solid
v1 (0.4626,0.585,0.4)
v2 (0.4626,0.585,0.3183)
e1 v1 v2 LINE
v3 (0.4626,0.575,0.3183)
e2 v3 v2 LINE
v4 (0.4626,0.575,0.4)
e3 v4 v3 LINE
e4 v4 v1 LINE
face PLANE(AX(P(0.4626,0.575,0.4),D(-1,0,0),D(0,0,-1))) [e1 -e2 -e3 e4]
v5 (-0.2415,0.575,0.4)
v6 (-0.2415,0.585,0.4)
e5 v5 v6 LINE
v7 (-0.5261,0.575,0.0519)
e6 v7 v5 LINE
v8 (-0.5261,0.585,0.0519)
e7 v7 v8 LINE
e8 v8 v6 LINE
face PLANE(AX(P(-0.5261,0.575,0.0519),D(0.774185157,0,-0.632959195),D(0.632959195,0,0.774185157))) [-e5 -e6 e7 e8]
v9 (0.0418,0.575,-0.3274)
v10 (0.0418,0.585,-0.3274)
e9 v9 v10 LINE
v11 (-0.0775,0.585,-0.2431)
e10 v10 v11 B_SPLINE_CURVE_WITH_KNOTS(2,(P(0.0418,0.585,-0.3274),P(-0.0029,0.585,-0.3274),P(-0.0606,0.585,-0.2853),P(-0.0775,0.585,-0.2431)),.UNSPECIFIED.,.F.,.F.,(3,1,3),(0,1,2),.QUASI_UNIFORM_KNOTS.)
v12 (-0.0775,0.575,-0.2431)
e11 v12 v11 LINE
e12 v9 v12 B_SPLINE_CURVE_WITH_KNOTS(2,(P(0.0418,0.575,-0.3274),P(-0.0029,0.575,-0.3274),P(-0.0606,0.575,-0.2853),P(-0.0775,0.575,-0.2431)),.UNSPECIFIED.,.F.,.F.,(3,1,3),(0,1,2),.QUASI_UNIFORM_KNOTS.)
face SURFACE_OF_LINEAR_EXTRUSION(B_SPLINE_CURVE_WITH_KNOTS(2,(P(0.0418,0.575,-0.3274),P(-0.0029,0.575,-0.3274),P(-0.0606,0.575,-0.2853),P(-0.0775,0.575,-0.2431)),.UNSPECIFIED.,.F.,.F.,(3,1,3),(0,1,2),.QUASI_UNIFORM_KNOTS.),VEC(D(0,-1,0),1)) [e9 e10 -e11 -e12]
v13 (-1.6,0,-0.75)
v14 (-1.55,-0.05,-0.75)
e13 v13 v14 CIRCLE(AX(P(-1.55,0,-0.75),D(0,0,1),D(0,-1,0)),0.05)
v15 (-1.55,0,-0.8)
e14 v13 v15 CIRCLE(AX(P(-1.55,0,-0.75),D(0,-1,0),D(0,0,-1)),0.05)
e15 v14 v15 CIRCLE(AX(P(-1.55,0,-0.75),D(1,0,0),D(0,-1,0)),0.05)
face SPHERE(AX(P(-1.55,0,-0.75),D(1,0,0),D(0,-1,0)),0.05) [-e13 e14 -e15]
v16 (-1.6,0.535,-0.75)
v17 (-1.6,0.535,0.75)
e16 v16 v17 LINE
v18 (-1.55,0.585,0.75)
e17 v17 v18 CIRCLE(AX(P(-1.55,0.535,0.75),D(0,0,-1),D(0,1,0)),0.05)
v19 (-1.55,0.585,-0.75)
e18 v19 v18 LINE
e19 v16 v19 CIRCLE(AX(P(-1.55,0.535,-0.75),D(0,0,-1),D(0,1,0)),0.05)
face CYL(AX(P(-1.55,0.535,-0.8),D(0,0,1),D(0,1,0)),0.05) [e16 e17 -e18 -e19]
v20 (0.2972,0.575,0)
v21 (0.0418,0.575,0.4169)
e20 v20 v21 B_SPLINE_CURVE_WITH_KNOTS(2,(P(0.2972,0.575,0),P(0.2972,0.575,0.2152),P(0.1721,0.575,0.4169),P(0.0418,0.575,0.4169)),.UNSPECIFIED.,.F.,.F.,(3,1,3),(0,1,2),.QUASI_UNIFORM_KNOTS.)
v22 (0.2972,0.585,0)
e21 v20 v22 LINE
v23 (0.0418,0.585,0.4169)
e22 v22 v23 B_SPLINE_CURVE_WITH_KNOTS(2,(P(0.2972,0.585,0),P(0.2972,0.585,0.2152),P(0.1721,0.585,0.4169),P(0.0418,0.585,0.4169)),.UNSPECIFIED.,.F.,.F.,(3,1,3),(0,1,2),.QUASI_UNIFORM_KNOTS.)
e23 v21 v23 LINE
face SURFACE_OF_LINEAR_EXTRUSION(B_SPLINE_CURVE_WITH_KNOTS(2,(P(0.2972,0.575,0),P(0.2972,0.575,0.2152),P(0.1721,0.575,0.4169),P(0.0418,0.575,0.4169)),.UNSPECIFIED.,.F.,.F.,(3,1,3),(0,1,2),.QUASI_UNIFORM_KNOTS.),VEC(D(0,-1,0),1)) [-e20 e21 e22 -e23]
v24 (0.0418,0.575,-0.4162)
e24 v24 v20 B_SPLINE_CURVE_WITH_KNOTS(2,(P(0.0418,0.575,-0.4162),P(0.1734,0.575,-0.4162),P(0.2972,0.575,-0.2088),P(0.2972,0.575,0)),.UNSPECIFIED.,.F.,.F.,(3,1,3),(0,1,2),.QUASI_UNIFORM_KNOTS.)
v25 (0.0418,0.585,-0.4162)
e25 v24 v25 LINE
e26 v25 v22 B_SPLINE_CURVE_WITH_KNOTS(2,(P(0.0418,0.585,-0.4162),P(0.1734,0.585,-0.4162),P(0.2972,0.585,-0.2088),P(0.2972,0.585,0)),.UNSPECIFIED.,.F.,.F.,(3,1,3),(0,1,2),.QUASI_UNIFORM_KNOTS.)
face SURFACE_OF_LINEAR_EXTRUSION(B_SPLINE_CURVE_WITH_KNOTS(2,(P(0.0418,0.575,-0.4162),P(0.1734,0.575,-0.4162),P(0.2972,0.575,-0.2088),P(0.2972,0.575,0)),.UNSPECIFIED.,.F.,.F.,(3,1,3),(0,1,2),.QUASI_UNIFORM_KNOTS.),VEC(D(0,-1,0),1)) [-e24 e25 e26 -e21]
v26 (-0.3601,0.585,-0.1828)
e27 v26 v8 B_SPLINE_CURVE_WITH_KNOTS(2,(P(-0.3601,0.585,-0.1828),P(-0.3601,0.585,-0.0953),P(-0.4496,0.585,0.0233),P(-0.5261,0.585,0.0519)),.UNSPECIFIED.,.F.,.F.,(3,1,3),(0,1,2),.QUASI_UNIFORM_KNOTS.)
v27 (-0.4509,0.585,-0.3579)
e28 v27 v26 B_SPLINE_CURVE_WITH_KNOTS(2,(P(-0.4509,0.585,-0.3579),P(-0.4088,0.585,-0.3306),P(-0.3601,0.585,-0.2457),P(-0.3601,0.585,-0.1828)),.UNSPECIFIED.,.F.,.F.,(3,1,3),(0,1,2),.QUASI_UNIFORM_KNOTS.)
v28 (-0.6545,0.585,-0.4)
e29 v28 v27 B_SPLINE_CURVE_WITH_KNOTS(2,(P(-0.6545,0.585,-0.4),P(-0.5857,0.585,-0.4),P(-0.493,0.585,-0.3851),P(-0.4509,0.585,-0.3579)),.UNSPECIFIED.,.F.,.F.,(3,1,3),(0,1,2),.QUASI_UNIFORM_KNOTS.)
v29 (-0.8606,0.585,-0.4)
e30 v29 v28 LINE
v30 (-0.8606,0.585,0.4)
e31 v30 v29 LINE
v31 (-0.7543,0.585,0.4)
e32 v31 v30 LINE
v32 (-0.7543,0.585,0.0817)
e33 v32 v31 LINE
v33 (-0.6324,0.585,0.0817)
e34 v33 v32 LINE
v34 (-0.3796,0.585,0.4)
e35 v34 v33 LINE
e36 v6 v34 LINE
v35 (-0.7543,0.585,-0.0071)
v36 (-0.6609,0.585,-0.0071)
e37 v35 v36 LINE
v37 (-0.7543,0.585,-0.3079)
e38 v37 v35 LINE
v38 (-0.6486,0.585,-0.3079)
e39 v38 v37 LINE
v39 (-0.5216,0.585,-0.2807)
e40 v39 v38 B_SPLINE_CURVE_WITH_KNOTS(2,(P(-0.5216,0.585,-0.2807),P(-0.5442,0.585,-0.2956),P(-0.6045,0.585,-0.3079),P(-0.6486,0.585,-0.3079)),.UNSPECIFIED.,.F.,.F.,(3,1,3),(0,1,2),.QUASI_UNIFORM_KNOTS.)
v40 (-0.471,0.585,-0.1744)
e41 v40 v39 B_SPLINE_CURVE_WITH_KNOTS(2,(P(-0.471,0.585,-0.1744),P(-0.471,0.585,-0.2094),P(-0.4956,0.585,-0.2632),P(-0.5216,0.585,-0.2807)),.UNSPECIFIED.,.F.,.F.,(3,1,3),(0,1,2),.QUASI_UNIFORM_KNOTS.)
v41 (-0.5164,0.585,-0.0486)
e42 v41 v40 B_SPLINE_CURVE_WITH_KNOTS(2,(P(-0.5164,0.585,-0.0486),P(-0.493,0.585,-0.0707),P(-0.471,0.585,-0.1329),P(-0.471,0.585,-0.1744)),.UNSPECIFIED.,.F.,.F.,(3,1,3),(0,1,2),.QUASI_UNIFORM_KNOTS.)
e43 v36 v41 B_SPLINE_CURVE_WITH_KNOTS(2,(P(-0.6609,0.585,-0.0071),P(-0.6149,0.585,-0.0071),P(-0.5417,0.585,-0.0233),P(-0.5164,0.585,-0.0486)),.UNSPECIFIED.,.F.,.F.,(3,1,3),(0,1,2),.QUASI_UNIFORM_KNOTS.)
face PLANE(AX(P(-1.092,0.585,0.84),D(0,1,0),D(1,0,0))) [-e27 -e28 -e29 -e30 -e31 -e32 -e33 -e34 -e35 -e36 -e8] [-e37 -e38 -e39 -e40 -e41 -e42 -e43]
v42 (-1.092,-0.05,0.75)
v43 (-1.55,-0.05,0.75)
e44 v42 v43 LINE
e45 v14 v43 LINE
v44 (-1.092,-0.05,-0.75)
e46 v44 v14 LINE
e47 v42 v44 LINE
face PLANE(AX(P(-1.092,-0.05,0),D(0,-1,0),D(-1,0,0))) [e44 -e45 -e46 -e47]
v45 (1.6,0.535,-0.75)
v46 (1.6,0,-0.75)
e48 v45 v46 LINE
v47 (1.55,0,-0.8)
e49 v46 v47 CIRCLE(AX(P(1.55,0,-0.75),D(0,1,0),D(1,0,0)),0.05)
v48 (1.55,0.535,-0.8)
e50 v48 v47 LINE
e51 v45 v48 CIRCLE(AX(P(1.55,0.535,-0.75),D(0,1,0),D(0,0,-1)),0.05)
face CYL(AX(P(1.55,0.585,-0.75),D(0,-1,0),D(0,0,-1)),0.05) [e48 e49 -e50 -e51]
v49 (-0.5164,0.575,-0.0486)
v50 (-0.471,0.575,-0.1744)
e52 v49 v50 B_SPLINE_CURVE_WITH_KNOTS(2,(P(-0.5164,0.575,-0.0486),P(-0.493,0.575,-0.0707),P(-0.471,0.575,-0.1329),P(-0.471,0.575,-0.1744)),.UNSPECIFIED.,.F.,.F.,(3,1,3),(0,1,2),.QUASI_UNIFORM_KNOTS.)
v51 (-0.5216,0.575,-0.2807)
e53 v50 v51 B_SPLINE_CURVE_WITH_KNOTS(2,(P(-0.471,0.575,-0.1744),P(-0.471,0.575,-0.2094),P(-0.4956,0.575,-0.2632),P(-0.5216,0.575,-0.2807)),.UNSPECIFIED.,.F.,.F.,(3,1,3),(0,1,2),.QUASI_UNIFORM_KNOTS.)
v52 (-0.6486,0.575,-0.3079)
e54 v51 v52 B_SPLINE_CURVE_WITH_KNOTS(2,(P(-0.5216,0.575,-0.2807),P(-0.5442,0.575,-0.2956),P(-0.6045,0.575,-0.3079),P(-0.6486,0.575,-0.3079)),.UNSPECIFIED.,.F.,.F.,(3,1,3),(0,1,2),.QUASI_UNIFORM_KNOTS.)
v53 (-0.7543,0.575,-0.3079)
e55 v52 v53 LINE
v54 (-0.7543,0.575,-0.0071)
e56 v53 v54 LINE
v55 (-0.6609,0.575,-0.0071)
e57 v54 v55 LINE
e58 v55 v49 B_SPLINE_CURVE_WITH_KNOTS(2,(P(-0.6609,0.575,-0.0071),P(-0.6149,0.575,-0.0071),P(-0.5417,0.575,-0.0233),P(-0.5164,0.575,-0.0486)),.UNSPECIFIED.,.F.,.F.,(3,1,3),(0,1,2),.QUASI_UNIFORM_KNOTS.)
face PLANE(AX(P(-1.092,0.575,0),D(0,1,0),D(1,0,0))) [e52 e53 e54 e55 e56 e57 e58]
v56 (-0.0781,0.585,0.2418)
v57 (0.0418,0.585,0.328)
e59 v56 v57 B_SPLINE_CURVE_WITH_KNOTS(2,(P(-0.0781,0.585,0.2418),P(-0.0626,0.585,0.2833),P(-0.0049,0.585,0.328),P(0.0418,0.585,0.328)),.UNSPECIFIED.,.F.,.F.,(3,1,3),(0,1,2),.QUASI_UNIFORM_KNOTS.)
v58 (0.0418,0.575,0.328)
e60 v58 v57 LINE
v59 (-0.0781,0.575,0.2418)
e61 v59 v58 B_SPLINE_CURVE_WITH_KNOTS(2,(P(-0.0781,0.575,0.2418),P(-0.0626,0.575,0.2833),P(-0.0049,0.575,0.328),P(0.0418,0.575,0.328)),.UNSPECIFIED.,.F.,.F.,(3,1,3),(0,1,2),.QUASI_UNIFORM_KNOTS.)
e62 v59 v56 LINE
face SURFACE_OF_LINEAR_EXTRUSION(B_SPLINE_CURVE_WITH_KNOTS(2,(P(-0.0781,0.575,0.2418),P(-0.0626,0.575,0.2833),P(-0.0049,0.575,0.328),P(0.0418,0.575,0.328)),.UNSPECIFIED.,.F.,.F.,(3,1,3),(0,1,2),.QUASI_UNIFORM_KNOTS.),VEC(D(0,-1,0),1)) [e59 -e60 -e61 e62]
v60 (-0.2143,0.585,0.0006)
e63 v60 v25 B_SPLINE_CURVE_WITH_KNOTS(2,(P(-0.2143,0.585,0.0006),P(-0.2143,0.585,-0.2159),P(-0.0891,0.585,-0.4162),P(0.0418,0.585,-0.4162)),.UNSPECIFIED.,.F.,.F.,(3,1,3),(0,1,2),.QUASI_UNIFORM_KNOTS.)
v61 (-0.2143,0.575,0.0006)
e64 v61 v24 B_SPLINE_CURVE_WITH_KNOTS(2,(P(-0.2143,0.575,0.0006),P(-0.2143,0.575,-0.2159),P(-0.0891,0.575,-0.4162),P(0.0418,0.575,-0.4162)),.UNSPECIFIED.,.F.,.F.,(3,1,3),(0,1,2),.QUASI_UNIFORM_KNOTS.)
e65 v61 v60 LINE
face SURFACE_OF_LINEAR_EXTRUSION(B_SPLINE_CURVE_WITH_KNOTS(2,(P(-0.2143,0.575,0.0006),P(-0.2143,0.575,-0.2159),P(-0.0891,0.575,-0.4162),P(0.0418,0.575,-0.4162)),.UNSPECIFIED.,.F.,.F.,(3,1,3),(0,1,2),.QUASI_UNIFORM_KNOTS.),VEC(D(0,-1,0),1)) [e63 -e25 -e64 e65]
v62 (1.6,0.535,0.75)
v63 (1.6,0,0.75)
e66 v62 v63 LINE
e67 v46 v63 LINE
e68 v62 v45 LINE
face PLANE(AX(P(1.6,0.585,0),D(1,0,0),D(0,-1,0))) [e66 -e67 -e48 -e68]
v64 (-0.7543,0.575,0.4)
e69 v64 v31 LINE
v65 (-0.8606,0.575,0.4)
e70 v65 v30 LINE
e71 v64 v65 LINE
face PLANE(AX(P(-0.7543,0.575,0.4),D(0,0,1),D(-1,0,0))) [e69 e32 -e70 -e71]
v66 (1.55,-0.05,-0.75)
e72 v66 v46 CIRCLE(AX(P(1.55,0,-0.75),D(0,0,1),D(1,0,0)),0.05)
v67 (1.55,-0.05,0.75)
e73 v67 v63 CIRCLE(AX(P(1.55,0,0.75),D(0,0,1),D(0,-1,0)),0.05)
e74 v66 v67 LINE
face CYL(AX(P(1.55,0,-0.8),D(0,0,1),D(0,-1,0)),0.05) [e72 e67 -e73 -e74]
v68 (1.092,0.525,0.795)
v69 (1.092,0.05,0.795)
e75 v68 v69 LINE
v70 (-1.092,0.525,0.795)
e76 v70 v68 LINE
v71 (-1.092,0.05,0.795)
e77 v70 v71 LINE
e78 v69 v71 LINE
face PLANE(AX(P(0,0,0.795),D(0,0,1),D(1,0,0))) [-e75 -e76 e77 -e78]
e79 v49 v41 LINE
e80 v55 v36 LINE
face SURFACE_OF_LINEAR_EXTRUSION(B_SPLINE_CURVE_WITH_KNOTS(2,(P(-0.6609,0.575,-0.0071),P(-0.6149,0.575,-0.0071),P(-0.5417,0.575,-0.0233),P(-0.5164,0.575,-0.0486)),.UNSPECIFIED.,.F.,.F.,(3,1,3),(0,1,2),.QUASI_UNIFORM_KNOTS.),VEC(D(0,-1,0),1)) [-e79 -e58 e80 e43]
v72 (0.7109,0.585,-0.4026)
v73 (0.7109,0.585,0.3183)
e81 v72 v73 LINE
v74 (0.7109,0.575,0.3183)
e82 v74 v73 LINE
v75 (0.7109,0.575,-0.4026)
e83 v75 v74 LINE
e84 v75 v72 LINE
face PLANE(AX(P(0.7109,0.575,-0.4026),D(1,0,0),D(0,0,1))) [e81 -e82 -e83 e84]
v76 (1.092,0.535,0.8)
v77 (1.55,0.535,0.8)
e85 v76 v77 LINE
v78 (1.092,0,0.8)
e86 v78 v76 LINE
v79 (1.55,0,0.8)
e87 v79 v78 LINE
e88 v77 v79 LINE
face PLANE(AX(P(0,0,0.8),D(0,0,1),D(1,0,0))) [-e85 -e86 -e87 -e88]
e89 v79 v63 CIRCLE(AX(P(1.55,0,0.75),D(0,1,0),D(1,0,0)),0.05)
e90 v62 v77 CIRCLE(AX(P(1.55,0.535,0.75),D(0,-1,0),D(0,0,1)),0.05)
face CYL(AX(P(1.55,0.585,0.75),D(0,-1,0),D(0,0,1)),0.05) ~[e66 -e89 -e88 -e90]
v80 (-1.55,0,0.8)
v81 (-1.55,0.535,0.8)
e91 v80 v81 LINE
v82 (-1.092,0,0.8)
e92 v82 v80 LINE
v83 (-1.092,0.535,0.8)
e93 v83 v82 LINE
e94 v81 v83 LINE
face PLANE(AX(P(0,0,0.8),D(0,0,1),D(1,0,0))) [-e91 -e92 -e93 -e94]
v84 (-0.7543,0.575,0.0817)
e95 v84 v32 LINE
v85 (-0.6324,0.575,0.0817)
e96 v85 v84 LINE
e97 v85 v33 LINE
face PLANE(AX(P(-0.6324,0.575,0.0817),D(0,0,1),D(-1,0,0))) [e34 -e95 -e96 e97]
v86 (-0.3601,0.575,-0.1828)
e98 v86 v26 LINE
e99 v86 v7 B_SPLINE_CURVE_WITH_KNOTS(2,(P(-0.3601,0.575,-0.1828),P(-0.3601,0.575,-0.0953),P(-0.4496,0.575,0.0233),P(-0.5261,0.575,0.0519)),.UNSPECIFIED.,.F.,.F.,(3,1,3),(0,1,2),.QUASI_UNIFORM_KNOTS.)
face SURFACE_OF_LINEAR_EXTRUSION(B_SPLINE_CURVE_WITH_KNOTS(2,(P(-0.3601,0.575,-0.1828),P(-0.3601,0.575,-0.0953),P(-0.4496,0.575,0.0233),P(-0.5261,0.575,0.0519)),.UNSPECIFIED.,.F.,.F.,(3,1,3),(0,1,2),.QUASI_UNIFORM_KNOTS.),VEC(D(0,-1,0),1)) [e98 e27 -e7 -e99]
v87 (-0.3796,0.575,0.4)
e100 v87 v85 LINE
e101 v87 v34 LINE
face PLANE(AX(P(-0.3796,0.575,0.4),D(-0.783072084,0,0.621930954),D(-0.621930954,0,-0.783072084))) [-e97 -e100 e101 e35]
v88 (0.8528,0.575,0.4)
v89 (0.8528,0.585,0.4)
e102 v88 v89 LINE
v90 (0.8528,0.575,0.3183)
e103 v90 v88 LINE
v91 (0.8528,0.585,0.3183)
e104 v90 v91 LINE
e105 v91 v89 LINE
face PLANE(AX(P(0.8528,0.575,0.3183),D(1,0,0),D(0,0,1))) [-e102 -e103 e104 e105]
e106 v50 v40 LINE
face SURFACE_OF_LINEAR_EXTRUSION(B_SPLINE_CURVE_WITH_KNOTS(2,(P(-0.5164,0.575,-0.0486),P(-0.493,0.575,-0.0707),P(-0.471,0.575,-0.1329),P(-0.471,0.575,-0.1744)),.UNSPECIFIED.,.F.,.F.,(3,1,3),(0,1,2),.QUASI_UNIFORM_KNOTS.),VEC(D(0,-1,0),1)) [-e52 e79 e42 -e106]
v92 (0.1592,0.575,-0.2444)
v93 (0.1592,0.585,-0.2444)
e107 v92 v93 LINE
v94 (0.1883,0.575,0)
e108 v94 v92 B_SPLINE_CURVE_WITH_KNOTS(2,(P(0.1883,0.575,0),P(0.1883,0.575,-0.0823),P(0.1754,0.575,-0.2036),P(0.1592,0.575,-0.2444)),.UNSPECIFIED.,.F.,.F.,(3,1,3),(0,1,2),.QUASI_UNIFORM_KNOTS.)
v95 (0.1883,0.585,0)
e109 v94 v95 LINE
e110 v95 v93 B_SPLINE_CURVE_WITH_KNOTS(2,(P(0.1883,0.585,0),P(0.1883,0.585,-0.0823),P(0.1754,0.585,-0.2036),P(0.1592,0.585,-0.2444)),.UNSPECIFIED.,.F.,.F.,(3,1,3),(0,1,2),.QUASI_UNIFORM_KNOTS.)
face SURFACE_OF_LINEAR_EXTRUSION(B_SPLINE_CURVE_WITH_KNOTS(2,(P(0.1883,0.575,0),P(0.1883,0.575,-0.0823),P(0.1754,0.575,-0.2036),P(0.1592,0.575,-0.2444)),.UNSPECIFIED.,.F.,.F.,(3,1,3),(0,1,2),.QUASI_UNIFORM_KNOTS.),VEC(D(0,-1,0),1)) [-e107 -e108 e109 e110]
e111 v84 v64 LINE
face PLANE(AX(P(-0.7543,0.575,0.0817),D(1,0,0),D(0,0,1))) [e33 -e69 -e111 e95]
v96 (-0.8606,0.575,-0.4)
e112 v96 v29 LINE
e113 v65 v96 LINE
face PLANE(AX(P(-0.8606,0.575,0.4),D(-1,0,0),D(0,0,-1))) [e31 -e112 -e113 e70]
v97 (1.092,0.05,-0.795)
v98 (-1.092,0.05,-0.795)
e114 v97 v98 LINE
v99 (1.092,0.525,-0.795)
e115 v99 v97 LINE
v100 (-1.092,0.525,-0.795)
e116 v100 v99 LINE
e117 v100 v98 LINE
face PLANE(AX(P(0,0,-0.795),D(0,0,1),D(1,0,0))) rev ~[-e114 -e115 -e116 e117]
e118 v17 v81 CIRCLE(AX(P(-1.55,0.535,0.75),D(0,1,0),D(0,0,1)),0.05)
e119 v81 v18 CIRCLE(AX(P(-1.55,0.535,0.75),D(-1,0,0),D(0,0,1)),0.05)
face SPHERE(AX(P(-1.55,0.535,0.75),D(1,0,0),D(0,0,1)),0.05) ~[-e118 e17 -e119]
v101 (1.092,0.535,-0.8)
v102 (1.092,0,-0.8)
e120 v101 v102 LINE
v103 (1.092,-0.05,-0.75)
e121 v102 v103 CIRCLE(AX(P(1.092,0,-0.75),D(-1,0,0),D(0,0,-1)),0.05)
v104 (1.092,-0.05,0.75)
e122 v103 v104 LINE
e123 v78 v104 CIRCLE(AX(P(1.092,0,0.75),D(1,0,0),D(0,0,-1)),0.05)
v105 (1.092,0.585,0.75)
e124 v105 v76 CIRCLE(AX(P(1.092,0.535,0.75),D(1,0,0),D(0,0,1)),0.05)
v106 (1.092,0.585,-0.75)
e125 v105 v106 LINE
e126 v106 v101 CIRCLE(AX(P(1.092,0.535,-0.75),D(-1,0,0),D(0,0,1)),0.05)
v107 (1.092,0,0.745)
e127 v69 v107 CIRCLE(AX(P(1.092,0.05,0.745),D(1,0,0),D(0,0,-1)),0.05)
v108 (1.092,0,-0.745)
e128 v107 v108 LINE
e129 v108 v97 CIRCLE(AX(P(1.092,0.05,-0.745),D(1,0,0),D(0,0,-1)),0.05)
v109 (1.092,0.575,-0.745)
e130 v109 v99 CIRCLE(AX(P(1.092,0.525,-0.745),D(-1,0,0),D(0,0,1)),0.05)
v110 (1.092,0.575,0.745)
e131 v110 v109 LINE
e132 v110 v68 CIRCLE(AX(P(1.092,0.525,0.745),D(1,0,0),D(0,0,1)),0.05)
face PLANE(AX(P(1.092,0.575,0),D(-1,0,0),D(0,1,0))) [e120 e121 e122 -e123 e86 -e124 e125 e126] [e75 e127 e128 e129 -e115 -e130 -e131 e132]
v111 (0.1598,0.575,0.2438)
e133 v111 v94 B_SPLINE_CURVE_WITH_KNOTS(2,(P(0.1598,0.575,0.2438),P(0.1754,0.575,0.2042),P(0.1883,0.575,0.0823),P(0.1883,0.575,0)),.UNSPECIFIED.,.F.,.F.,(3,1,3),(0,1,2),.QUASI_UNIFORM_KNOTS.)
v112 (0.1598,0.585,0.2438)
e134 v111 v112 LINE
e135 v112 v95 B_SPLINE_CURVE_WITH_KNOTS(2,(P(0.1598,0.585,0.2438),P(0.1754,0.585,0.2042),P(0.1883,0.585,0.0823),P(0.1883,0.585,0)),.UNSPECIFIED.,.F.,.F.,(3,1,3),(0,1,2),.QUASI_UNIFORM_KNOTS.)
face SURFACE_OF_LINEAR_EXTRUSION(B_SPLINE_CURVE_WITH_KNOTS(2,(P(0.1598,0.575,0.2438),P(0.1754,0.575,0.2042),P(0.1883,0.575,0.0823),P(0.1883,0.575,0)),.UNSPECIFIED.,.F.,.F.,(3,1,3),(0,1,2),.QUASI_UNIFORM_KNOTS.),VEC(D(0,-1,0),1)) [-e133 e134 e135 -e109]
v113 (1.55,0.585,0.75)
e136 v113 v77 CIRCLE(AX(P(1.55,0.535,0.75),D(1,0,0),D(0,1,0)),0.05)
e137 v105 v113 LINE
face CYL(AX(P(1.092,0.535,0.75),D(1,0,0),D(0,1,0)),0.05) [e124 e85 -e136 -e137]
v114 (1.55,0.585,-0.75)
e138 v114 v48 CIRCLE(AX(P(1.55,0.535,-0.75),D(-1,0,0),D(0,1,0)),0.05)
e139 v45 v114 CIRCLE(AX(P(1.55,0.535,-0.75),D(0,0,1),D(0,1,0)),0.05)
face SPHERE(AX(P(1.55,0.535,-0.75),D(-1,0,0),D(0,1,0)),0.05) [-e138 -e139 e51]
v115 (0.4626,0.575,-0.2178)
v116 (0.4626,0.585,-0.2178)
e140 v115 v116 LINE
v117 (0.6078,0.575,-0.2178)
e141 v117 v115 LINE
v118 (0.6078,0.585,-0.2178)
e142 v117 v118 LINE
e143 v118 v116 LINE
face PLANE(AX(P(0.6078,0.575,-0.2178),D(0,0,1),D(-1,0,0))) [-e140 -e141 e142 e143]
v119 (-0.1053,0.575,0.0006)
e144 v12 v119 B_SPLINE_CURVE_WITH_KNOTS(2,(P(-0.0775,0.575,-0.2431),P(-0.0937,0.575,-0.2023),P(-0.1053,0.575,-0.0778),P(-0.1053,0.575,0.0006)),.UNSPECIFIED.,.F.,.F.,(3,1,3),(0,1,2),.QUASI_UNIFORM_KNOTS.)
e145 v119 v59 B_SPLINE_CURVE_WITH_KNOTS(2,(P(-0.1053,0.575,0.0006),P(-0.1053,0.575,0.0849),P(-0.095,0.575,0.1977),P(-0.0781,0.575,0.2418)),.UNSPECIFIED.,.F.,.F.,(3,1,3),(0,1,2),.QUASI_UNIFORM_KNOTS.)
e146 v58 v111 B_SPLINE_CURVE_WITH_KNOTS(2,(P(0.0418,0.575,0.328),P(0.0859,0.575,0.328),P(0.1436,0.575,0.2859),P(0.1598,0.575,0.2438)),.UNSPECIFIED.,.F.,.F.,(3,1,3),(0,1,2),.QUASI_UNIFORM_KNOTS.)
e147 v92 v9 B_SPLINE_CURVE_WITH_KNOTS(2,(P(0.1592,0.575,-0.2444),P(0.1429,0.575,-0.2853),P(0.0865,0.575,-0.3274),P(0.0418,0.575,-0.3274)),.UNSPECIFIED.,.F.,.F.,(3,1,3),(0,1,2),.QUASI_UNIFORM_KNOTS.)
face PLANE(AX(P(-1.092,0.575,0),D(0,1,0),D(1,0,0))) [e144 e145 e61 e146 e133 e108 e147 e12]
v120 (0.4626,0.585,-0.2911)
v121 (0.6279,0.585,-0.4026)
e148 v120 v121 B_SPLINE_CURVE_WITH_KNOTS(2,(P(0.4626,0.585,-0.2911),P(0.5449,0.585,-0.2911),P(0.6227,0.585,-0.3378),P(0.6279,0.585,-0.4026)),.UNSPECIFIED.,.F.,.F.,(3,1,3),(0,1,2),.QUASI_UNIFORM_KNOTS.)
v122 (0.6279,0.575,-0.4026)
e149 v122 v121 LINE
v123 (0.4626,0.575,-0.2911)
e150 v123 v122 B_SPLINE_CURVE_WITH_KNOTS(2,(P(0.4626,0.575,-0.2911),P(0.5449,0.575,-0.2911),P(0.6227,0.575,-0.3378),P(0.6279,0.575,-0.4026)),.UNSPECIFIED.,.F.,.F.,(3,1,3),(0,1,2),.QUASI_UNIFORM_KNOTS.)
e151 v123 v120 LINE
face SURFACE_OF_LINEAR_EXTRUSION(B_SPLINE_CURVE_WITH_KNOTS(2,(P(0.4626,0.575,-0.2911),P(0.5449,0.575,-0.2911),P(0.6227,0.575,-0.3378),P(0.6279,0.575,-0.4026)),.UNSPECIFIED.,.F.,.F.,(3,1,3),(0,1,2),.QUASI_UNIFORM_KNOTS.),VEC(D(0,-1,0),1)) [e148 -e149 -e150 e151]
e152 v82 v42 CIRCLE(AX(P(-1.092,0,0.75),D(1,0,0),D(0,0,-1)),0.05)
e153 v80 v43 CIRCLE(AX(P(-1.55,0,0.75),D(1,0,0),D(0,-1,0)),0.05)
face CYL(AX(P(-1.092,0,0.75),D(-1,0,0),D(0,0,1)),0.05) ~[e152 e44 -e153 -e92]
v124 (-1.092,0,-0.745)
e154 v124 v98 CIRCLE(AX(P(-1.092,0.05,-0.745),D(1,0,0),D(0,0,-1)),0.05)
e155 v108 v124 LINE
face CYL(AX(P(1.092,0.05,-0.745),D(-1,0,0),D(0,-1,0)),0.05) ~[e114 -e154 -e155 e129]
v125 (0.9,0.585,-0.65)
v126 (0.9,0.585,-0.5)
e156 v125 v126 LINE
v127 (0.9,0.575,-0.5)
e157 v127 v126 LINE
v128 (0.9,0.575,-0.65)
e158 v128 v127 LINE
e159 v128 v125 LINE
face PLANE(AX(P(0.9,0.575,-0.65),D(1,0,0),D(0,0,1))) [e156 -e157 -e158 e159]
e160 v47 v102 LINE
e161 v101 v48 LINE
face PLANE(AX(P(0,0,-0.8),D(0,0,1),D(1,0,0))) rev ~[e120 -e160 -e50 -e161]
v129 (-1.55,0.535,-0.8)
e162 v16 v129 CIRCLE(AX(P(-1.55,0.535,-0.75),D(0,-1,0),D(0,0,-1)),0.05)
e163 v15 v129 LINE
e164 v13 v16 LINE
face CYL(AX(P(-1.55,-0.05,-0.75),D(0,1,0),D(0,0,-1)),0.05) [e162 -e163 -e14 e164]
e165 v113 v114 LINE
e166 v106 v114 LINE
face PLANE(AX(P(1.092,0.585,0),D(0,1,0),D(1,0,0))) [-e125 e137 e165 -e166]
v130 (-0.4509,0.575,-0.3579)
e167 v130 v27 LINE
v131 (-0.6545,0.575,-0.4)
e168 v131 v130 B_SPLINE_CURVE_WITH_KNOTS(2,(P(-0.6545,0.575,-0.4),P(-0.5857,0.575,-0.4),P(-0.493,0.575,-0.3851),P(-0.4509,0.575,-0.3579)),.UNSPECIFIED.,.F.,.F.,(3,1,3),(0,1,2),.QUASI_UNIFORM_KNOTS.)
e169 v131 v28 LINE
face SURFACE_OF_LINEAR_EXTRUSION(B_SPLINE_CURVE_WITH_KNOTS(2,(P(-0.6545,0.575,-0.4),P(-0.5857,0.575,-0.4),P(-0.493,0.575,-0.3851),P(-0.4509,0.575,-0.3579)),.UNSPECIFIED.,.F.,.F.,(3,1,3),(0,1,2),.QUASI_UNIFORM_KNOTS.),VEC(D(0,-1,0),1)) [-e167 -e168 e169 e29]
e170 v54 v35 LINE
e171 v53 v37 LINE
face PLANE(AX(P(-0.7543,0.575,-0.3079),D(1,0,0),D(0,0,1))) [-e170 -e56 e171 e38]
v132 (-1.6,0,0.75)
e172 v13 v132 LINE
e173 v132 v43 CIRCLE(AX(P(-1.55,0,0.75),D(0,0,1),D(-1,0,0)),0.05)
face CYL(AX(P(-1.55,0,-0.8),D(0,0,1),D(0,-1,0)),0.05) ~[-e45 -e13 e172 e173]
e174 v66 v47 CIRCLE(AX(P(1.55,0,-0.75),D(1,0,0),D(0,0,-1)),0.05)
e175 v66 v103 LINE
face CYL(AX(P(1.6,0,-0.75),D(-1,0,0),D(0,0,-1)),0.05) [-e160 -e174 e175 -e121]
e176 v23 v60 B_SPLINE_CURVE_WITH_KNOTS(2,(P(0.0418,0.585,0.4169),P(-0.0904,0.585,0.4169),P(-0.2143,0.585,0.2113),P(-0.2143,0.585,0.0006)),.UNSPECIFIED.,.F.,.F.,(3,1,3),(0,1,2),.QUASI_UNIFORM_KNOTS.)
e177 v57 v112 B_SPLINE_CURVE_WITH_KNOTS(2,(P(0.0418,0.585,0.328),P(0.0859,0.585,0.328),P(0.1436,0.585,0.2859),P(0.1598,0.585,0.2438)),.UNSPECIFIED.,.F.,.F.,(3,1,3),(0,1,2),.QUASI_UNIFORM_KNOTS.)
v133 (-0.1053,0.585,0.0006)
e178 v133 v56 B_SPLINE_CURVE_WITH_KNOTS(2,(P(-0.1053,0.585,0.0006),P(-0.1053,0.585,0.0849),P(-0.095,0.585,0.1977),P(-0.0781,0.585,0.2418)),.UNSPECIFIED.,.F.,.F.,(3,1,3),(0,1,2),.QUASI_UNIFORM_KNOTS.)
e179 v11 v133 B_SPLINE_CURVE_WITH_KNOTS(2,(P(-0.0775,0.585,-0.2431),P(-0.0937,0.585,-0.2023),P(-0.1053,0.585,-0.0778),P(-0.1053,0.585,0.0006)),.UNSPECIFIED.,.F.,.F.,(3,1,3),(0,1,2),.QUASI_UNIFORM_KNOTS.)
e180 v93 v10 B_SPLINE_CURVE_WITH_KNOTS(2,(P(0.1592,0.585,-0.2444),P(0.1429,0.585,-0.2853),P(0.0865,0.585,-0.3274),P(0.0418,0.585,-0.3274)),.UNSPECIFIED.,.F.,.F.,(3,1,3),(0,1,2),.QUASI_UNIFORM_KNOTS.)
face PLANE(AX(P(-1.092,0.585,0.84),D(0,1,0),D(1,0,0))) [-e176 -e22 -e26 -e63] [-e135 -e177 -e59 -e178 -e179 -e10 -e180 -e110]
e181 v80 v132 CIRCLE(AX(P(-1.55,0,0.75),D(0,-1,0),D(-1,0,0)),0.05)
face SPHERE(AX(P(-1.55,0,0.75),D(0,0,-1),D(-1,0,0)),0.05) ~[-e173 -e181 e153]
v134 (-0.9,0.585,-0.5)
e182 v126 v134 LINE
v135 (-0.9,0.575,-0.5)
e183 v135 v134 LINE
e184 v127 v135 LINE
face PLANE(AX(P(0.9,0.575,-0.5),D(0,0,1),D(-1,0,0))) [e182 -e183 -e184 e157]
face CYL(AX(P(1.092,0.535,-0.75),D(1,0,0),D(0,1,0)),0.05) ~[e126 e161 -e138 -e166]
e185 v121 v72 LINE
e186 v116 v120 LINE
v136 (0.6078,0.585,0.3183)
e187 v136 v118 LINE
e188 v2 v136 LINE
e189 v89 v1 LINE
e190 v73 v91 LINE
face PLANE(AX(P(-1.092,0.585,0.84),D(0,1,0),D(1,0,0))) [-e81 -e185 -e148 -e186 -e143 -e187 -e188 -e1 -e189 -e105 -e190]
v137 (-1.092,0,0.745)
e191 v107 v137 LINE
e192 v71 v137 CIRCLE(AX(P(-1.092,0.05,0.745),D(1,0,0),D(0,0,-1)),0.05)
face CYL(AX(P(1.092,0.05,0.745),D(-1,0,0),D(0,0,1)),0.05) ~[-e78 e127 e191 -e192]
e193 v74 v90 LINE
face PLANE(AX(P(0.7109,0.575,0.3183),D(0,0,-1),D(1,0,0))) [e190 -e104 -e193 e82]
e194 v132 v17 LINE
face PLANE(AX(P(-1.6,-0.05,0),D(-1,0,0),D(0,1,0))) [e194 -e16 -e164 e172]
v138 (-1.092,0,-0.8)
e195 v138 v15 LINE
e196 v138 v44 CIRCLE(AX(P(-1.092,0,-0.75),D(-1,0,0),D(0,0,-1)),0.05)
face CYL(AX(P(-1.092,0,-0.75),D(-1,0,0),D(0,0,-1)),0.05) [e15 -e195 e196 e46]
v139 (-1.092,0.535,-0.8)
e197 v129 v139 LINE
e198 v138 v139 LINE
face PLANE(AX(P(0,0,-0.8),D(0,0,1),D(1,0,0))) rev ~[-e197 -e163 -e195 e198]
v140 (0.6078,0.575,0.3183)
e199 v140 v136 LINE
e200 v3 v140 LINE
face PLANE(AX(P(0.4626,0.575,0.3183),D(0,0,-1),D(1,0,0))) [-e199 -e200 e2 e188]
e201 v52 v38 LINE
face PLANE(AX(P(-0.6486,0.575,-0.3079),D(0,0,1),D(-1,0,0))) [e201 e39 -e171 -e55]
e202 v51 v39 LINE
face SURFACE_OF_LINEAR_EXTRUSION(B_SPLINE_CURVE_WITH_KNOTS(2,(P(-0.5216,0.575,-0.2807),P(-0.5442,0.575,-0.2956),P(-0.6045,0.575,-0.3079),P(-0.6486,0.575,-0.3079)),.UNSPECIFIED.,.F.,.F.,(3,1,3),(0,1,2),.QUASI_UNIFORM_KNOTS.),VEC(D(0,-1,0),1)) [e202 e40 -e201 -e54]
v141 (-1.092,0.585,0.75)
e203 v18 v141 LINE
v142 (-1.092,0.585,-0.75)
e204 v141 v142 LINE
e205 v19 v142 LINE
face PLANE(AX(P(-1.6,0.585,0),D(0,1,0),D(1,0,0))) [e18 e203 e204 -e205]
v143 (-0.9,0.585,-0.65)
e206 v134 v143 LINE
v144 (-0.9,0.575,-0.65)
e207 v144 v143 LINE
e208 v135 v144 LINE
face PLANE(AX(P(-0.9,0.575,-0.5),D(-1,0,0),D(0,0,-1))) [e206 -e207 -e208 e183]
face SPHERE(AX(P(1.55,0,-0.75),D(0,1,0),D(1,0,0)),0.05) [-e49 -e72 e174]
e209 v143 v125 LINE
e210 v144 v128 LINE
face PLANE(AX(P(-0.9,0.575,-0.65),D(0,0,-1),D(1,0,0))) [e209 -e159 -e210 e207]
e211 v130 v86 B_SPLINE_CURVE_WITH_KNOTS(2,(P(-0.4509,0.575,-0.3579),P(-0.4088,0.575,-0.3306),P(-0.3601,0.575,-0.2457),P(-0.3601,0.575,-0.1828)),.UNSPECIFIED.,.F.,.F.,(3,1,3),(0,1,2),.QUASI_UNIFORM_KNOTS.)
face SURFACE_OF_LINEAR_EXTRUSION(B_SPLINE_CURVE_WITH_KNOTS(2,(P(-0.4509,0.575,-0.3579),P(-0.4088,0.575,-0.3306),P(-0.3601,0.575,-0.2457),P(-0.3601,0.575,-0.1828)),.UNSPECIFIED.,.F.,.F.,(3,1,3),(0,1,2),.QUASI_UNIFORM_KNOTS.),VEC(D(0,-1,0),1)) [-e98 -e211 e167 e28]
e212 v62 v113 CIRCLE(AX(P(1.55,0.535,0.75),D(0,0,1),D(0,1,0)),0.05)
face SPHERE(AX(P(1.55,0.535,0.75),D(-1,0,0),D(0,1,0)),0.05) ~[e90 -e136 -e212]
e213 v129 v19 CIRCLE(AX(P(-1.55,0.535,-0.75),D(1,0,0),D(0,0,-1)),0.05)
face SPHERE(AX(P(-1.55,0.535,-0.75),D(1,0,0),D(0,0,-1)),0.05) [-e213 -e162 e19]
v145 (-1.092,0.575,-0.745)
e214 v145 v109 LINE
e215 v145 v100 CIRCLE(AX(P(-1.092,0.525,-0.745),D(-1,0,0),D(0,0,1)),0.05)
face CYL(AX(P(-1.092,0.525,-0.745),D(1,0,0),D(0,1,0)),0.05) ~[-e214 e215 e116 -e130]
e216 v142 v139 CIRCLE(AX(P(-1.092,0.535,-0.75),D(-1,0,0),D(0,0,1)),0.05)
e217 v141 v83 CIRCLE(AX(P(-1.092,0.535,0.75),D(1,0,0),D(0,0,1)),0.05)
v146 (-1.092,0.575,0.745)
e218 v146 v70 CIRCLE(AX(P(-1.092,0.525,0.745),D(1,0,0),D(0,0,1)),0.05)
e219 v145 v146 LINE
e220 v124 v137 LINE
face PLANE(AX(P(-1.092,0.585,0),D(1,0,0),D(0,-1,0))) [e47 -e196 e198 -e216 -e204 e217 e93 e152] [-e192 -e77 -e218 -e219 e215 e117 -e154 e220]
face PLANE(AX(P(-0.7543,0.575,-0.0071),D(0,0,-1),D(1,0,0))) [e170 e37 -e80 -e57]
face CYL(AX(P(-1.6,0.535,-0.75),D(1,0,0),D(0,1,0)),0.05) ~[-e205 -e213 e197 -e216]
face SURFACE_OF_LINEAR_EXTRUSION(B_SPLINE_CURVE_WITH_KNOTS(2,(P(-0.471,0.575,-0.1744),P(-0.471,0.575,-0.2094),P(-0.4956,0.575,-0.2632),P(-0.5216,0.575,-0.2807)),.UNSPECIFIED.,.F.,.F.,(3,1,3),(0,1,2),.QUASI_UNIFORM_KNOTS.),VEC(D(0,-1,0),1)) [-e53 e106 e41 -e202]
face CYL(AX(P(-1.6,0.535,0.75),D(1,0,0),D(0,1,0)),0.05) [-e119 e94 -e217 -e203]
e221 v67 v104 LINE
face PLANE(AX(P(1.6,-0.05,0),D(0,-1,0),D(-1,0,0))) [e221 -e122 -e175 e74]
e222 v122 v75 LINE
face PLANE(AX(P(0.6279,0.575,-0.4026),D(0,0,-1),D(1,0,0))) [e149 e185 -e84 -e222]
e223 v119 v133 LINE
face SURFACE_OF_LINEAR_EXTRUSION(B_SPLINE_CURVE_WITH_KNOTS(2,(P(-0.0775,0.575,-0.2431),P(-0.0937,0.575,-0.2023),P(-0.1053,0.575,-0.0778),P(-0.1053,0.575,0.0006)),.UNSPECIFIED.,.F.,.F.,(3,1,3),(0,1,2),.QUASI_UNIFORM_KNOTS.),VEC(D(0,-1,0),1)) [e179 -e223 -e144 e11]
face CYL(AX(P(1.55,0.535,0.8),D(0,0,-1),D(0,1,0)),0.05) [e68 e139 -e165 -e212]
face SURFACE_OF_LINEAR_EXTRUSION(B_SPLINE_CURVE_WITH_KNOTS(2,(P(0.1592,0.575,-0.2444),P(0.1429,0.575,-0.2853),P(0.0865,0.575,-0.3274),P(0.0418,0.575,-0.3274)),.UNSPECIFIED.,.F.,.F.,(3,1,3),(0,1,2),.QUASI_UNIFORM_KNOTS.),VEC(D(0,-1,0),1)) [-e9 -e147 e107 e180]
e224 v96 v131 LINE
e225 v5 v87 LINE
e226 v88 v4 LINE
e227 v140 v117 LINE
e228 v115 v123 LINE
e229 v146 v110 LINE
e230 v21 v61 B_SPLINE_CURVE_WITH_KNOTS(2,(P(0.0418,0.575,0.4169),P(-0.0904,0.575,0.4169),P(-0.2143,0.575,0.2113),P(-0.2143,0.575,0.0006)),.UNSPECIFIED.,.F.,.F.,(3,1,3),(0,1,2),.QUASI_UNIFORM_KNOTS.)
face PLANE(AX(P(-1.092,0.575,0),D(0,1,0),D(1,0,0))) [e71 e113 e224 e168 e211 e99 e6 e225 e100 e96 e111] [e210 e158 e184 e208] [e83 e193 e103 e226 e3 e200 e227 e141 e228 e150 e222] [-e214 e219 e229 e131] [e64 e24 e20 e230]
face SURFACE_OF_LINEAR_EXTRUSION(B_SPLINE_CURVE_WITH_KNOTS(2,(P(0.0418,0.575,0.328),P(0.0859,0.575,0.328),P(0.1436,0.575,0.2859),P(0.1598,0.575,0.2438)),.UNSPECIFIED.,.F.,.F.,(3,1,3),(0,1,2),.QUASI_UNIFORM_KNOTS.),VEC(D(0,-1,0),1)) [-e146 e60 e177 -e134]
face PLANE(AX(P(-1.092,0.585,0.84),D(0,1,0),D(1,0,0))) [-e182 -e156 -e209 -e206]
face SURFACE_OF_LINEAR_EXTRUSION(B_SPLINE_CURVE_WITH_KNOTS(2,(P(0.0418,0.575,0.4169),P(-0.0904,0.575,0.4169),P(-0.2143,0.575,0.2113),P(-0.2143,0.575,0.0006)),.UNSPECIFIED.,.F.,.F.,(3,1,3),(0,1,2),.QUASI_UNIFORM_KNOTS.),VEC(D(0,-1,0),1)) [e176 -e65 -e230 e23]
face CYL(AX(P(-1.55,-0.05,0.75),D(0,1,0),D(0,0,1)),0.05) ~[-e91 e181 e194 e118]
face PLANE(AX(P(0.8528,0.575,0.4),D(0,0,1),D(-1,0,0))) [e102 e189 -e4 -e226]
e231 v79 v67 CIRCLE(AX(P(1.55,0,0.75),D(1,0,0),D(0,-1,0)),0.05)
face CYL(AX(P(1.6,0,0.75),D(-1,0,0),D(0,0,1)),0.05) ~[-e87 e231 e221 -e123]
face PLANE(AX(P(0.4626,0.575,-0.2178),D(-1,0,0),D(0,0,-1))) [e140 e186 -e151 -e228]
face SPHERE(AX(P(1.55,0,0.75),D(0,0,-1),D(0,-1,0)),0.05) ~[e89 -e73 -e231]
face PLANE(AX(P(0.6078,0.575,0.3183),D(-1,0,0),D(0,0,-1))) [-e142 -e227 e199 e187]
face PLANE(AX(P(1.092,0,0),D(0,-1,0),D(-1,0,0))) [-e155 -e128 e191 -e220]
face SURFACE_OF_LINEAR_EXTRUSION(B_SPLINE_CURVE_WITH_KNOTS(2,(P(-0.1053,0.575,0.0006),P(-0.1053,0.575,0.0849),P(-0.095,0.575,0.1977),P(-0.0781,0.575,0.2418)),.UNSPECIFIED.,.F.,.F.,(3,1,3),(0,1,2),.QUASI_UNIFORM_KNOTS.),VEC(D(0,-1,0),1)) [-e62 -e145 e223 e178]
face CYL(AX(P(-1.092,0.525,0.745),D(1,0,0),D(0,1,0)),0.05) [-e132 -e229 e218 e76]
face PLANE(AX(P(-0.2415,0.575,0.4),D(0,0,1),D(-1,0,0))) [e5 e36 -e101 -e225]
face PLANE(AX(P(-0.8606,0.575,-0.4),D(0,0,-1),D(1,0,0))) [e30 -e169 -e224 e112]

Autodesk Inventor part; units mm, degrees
ref_plane "YZ Plane" through (0, 0, 0) normal (1, 0, 0) x (0, 1, 0)
ref_plane "XZ Plane" through (0, 0, 0) normal (0, 1, 0) x (-1, 0, 0)
ref_plane "XY Plane" through (0, 0, 0) normal (0, 0, 1) x (1, 0, 0)
sketch "Sketch1" plane through (0, 0, 0) normal (0, 0, 1) x (1, 0, 0)
  line L0 (-1.6, 0.585) -> (-1.092, 0.585)
  line L1 (-1.092, 0.585) -> (-1.092, -0.05)
  line L2 (-1.092, -0.05) -> (-1.6, -0.05)
  line L3 (-1.6, -0.05) -> (-1.6, 0.585)
  line L4 (-1.092, 0.575) -> (1.092, 0.575)
  line L5 (1.092, 0.575) -> (1.092, 0)
  line L6 (1.092, 0) -> (-1.092, 0)
  line L7 (-1.092, 0) -> (-1.092, 0.575)
  line L8 (1.092, 0.585) -> (1.6, 0.585)
  line L9 (1.6, 0.585) -> (1.6, -0.05)
  line L10 (1.6, -0.05) -> (1.092, -0.05)
  line L11 (1.092, -0.05) -> (1.092, 0.585)
  point P0 (0, 0)
  point P1 (0, 0.575)
  point P2 (0, 0)
  dimension "d0" = 3.2
  dimension "d1" = 0.635
  dimension "d2" = 0.508
  dimension "d3" = 0.05
  dimension "d6" = 0.01
extrude "Extrusion1" add sketch "Sketch1" along normal mid plane 1.6 contours L0 L1 L2 L3 | L11 L8 L9 L10 L5
extrude "Extrusion2" add sketch "Sketch1" along normal mid plane 1.59 contours L4 L5 L6 L1
sketch "Sketch3" plane through (-1.092, 0.575, 0.84) normal (0, 1, 0) x (1, 0, 0)
  line L0 (0, 0.045) -> (0, 1.635) projected
  line L1 (2.184, 0.045) -> (0, 0.045) projected
  line L2 (2.184, 1.635) -> (2.184, 0.045) projected
  line L3 (0, 1.635) -> (2.184, 1.635) projected
  line L4 (2.184, 1.64) -> (2.184, 0.04) construction
  line L5 (2.184, 0.84) -> (0, 0.84) construction
  line L6 (0, 1.64) -> (0, 0.04) construction
  line L7 (0.192, 1.49) -> (1.992, 1.49)
  line L8 (1.992, 1.49) -> (1.992, 1.34)
  line L9 (1.992, 1.34) -> (0.192, 1.34)
  line L10 (0.192, 1.34) -> (0.192, 1.49)
  line L11 (0.8505, 0.44) -> (0.7124, 0.44)
  line L12 (0.7124, 0.44) -> (0.4596, 0.7583)
  line L13 (0.4596, 0.7583) -> (0.3377, 0.7583)
  line L14 (0.3377, 0.7583) -> (0.3377, 0.44)
  line L15 (0.3377, 0.44) -> (0.2314, 0.44)
  line L16 (0.2314, 0.44) -> (0.2314, 1.24)
  line L17 (0.2314, 1.24) -> (0.4375, 1.24)
  spline S0 degree 2 poles (0.4375, 1.24) (0.5063, 1.24) (0.599, 1.2251) (0.6411, 1.1979) knots 0 0 0 1 2 2 2
  spline S1 degree 2 poles (0.6411, 1.1979) (0.6832, 1.1706) (0.7319, 1.0857) (0.7319, 1.0228) knots 0 0 0 1 2 2 2
  spline S2 degree 2 poles (0.7319, 1.0228) (0.7319, 0.9353) (0.6424, 0.8167) (0.5659, 0.7881) knots 0 0 0 1 2 2 2
  line L18 (0.5659, 0.7881) -> (0.8505, 0.44)
  spline S3 degree 2 poles (0.621, 1.0144) (0.621, 1.0494) (0.5964, 1.1032) (0.5704, 1.1207) knots 0 0 0 1 2 2 2
  spline S4 degree 2 poles (0.5704, 1.1207) (0.5478, 1.1356) (0.4875, 1.1479) (0.4434, 1.1479) knots 0 0 0 1 2 2 2
  line L19 (0.4434, 1.1479) -> (0.3377, 1.1479)
  line L20 (0.3377, 1.1479) -> (0.3377, 0.8471)
  line L21 (0.3377, 0.8471) -> (0.4311, 0.8471)
  spline S5 degree 2 poles (0.4311, 0.8471) (0.4771, 0.8471) (0.5503, 0.8633) (0.5756, 0.8886) knots 0 0 0 1 2 2 2
  spline S6 degree 2 poles (0.5756, 0.8886) (0.599, 0.9107) (0.621, 0.9729) (0.621, 1.0144) knots 0 0 0 1 2 2 2
  spline S7 degree 2 poles (1.3892, 0.84) (1.3892, 0.6248) (1.2641, 0.4231) (1.1338, 0.4231) knots 0 0 0 1 2 2 2
  spline S8 degree 2 poles (1.1338, 0.4231) (1.0016, 0.4231) (0.8777, 0.6287) (0.8777, 0.8394) knots 0 0 0 1 2 2 2
  spline S9 degree 2 poles (0.8777, 0.8394) (0.8777, 1.0559) (1.0029, 1.2562) (1.1338, 1.2562) knots 0 0 0 1 2 2 2
  spline S10 degree 2 poles (1.1338, 1.2562) (1.2654, 1.2562) (1.3892, 1.0488) (1.3892, 0.84) knots 0 0 0 1 2 2 2
  spline S11 degree 2 poles (1.2518, 0.5962) (1.2674, 0.6358) (1.2803, 0.7577) (1.2803, 0.84) knots 0 0 0 1 2 2 2
  spline S12 degree 2 poles (1.2803, 0.84) (1.2803, 0.9223) (1.2674, 1.0436) (1.2512, 1.0844) knots 0 0 0 1 2 2 2
  spline S13 degree 2 poles (1.2512, 1.0844) (1.2349, 1.1253) (1.1785, 1.1674) (1.1338, 1.1674) knots 0 0 0 1 2 2 2
  spline S14 degree 2 poles (1.1338, 1.1674) (1.0891, 1.1674) (1.0314, 1.1253) (1.0145, 1.0831) knots 0 0 0 1 2 2 2
  spline S15 degree 2 poles (1.0145, 1.0831) (0.9983, 1.0423) (0.9867, 0.9178) (0.9867, 0.8394) knots 0 0 0 1 2 2 2
  spline S16 degree 2 poles (0.9867, 0.8394) (0.9867, 0.7551) (0.997, 0.6423) (1.0139, 0.5982) knots 0 0 0 1 2 2 2
  spline S17 degree 2 poles (1.0139, 0.5982) (1.0294, 0.5567) (1.0871, 0.512) (1.1338, 0.512) knots 0 0 0 1 2 2 2
  spline S18 degree 2 poles (1.1338, 0.512) (1.1779, 0.512) (1.2356, 0.5541) (1.2518, 0.5962) knots 0 0 0 1 2 2 2
  line L22 (1.9448, 0.44) -> (1.5546, 0.44)
  line L23 (1.5546, 0.44) -> (1.5546, 0.5217)
  line L24 (1.5546, 0.5217) -> (1.6998, 0.5217)
  line L25 (1.6998, 0.5217) -> (1.6998, 1.0578)
  line L26 (1.6998, 1.0578) -> (1.5546, 1.0578)
  line L27 (1.5546, 1.0578) -> (1.5546, 1.1311)
  spline S19 degree 2 poles (1.5546, 1.1311) (1.6369, 1.1311) (1.7147, 1.1778) (1.7199, 1.2426) knots 0 0 0 1 2 2 2
  line L28 (1.7199, 1.2426) -> (1.8029, 1.2426)
  line L29 (1.8029, 1.2426) -> (1.8029, 0.5217)
  line L30 (1.8029, 0.5217) -> (1.9448, 0.5217)
  line L31 (1.9448, 0.5217) -> (1.9448, 0.44)
  point P0 (1.092, 0.84)
  point P1 (1.092, 1.34)
  point P2 (1.092, 0.84)
  dimension "d15" = 0.15
  dimension "d16" = 1.8
  dimension "d17" = 0.5
extrude "Extrusion4" add sketch "Sketch3" along normal blind 0.01 contours L7 L8 L9 L10 | L11 L12 L13 L14 L15 L16 L17 S0 S1 S2 L18 | S7 S8 S9 S10 | L22 L23 L24 L25 L26 L27 S19 L28 L29 L30 L31
fillet "Fillet2" radius 0.05 4 edges at (0, 0.575, 0.795) (0, 0, 0.795) (0, 0.575, -0.795) (0, 0, -0.795)
fillet "Fillet1" radius 0.05 16 edges at (-1.346, 0.585, 0.8) (1.346, 0.585, 0.8) (-1.346, 0.585, -0.8) (1.346, 0.585, -0.8) (1.6, 0.585, 0) (1.6, 0.2675, -0.8) (1.6, -0.05, 0) (1.346, -0.05, -0.8) (1.346, -0.05, 0.8) (1.6, 0.2675, 0.8) (-1.346, -0.05, -0.8) (-1.6, -0.05, 0) (-1.6, 0.2675, 0.8) (-1.346, -0.05, 0.8) (-1.6, 0.2675, -0.8) (-1.6, 0.585, 0)
properties part number "Resistor_1608-0.5mm" material "Copper"
